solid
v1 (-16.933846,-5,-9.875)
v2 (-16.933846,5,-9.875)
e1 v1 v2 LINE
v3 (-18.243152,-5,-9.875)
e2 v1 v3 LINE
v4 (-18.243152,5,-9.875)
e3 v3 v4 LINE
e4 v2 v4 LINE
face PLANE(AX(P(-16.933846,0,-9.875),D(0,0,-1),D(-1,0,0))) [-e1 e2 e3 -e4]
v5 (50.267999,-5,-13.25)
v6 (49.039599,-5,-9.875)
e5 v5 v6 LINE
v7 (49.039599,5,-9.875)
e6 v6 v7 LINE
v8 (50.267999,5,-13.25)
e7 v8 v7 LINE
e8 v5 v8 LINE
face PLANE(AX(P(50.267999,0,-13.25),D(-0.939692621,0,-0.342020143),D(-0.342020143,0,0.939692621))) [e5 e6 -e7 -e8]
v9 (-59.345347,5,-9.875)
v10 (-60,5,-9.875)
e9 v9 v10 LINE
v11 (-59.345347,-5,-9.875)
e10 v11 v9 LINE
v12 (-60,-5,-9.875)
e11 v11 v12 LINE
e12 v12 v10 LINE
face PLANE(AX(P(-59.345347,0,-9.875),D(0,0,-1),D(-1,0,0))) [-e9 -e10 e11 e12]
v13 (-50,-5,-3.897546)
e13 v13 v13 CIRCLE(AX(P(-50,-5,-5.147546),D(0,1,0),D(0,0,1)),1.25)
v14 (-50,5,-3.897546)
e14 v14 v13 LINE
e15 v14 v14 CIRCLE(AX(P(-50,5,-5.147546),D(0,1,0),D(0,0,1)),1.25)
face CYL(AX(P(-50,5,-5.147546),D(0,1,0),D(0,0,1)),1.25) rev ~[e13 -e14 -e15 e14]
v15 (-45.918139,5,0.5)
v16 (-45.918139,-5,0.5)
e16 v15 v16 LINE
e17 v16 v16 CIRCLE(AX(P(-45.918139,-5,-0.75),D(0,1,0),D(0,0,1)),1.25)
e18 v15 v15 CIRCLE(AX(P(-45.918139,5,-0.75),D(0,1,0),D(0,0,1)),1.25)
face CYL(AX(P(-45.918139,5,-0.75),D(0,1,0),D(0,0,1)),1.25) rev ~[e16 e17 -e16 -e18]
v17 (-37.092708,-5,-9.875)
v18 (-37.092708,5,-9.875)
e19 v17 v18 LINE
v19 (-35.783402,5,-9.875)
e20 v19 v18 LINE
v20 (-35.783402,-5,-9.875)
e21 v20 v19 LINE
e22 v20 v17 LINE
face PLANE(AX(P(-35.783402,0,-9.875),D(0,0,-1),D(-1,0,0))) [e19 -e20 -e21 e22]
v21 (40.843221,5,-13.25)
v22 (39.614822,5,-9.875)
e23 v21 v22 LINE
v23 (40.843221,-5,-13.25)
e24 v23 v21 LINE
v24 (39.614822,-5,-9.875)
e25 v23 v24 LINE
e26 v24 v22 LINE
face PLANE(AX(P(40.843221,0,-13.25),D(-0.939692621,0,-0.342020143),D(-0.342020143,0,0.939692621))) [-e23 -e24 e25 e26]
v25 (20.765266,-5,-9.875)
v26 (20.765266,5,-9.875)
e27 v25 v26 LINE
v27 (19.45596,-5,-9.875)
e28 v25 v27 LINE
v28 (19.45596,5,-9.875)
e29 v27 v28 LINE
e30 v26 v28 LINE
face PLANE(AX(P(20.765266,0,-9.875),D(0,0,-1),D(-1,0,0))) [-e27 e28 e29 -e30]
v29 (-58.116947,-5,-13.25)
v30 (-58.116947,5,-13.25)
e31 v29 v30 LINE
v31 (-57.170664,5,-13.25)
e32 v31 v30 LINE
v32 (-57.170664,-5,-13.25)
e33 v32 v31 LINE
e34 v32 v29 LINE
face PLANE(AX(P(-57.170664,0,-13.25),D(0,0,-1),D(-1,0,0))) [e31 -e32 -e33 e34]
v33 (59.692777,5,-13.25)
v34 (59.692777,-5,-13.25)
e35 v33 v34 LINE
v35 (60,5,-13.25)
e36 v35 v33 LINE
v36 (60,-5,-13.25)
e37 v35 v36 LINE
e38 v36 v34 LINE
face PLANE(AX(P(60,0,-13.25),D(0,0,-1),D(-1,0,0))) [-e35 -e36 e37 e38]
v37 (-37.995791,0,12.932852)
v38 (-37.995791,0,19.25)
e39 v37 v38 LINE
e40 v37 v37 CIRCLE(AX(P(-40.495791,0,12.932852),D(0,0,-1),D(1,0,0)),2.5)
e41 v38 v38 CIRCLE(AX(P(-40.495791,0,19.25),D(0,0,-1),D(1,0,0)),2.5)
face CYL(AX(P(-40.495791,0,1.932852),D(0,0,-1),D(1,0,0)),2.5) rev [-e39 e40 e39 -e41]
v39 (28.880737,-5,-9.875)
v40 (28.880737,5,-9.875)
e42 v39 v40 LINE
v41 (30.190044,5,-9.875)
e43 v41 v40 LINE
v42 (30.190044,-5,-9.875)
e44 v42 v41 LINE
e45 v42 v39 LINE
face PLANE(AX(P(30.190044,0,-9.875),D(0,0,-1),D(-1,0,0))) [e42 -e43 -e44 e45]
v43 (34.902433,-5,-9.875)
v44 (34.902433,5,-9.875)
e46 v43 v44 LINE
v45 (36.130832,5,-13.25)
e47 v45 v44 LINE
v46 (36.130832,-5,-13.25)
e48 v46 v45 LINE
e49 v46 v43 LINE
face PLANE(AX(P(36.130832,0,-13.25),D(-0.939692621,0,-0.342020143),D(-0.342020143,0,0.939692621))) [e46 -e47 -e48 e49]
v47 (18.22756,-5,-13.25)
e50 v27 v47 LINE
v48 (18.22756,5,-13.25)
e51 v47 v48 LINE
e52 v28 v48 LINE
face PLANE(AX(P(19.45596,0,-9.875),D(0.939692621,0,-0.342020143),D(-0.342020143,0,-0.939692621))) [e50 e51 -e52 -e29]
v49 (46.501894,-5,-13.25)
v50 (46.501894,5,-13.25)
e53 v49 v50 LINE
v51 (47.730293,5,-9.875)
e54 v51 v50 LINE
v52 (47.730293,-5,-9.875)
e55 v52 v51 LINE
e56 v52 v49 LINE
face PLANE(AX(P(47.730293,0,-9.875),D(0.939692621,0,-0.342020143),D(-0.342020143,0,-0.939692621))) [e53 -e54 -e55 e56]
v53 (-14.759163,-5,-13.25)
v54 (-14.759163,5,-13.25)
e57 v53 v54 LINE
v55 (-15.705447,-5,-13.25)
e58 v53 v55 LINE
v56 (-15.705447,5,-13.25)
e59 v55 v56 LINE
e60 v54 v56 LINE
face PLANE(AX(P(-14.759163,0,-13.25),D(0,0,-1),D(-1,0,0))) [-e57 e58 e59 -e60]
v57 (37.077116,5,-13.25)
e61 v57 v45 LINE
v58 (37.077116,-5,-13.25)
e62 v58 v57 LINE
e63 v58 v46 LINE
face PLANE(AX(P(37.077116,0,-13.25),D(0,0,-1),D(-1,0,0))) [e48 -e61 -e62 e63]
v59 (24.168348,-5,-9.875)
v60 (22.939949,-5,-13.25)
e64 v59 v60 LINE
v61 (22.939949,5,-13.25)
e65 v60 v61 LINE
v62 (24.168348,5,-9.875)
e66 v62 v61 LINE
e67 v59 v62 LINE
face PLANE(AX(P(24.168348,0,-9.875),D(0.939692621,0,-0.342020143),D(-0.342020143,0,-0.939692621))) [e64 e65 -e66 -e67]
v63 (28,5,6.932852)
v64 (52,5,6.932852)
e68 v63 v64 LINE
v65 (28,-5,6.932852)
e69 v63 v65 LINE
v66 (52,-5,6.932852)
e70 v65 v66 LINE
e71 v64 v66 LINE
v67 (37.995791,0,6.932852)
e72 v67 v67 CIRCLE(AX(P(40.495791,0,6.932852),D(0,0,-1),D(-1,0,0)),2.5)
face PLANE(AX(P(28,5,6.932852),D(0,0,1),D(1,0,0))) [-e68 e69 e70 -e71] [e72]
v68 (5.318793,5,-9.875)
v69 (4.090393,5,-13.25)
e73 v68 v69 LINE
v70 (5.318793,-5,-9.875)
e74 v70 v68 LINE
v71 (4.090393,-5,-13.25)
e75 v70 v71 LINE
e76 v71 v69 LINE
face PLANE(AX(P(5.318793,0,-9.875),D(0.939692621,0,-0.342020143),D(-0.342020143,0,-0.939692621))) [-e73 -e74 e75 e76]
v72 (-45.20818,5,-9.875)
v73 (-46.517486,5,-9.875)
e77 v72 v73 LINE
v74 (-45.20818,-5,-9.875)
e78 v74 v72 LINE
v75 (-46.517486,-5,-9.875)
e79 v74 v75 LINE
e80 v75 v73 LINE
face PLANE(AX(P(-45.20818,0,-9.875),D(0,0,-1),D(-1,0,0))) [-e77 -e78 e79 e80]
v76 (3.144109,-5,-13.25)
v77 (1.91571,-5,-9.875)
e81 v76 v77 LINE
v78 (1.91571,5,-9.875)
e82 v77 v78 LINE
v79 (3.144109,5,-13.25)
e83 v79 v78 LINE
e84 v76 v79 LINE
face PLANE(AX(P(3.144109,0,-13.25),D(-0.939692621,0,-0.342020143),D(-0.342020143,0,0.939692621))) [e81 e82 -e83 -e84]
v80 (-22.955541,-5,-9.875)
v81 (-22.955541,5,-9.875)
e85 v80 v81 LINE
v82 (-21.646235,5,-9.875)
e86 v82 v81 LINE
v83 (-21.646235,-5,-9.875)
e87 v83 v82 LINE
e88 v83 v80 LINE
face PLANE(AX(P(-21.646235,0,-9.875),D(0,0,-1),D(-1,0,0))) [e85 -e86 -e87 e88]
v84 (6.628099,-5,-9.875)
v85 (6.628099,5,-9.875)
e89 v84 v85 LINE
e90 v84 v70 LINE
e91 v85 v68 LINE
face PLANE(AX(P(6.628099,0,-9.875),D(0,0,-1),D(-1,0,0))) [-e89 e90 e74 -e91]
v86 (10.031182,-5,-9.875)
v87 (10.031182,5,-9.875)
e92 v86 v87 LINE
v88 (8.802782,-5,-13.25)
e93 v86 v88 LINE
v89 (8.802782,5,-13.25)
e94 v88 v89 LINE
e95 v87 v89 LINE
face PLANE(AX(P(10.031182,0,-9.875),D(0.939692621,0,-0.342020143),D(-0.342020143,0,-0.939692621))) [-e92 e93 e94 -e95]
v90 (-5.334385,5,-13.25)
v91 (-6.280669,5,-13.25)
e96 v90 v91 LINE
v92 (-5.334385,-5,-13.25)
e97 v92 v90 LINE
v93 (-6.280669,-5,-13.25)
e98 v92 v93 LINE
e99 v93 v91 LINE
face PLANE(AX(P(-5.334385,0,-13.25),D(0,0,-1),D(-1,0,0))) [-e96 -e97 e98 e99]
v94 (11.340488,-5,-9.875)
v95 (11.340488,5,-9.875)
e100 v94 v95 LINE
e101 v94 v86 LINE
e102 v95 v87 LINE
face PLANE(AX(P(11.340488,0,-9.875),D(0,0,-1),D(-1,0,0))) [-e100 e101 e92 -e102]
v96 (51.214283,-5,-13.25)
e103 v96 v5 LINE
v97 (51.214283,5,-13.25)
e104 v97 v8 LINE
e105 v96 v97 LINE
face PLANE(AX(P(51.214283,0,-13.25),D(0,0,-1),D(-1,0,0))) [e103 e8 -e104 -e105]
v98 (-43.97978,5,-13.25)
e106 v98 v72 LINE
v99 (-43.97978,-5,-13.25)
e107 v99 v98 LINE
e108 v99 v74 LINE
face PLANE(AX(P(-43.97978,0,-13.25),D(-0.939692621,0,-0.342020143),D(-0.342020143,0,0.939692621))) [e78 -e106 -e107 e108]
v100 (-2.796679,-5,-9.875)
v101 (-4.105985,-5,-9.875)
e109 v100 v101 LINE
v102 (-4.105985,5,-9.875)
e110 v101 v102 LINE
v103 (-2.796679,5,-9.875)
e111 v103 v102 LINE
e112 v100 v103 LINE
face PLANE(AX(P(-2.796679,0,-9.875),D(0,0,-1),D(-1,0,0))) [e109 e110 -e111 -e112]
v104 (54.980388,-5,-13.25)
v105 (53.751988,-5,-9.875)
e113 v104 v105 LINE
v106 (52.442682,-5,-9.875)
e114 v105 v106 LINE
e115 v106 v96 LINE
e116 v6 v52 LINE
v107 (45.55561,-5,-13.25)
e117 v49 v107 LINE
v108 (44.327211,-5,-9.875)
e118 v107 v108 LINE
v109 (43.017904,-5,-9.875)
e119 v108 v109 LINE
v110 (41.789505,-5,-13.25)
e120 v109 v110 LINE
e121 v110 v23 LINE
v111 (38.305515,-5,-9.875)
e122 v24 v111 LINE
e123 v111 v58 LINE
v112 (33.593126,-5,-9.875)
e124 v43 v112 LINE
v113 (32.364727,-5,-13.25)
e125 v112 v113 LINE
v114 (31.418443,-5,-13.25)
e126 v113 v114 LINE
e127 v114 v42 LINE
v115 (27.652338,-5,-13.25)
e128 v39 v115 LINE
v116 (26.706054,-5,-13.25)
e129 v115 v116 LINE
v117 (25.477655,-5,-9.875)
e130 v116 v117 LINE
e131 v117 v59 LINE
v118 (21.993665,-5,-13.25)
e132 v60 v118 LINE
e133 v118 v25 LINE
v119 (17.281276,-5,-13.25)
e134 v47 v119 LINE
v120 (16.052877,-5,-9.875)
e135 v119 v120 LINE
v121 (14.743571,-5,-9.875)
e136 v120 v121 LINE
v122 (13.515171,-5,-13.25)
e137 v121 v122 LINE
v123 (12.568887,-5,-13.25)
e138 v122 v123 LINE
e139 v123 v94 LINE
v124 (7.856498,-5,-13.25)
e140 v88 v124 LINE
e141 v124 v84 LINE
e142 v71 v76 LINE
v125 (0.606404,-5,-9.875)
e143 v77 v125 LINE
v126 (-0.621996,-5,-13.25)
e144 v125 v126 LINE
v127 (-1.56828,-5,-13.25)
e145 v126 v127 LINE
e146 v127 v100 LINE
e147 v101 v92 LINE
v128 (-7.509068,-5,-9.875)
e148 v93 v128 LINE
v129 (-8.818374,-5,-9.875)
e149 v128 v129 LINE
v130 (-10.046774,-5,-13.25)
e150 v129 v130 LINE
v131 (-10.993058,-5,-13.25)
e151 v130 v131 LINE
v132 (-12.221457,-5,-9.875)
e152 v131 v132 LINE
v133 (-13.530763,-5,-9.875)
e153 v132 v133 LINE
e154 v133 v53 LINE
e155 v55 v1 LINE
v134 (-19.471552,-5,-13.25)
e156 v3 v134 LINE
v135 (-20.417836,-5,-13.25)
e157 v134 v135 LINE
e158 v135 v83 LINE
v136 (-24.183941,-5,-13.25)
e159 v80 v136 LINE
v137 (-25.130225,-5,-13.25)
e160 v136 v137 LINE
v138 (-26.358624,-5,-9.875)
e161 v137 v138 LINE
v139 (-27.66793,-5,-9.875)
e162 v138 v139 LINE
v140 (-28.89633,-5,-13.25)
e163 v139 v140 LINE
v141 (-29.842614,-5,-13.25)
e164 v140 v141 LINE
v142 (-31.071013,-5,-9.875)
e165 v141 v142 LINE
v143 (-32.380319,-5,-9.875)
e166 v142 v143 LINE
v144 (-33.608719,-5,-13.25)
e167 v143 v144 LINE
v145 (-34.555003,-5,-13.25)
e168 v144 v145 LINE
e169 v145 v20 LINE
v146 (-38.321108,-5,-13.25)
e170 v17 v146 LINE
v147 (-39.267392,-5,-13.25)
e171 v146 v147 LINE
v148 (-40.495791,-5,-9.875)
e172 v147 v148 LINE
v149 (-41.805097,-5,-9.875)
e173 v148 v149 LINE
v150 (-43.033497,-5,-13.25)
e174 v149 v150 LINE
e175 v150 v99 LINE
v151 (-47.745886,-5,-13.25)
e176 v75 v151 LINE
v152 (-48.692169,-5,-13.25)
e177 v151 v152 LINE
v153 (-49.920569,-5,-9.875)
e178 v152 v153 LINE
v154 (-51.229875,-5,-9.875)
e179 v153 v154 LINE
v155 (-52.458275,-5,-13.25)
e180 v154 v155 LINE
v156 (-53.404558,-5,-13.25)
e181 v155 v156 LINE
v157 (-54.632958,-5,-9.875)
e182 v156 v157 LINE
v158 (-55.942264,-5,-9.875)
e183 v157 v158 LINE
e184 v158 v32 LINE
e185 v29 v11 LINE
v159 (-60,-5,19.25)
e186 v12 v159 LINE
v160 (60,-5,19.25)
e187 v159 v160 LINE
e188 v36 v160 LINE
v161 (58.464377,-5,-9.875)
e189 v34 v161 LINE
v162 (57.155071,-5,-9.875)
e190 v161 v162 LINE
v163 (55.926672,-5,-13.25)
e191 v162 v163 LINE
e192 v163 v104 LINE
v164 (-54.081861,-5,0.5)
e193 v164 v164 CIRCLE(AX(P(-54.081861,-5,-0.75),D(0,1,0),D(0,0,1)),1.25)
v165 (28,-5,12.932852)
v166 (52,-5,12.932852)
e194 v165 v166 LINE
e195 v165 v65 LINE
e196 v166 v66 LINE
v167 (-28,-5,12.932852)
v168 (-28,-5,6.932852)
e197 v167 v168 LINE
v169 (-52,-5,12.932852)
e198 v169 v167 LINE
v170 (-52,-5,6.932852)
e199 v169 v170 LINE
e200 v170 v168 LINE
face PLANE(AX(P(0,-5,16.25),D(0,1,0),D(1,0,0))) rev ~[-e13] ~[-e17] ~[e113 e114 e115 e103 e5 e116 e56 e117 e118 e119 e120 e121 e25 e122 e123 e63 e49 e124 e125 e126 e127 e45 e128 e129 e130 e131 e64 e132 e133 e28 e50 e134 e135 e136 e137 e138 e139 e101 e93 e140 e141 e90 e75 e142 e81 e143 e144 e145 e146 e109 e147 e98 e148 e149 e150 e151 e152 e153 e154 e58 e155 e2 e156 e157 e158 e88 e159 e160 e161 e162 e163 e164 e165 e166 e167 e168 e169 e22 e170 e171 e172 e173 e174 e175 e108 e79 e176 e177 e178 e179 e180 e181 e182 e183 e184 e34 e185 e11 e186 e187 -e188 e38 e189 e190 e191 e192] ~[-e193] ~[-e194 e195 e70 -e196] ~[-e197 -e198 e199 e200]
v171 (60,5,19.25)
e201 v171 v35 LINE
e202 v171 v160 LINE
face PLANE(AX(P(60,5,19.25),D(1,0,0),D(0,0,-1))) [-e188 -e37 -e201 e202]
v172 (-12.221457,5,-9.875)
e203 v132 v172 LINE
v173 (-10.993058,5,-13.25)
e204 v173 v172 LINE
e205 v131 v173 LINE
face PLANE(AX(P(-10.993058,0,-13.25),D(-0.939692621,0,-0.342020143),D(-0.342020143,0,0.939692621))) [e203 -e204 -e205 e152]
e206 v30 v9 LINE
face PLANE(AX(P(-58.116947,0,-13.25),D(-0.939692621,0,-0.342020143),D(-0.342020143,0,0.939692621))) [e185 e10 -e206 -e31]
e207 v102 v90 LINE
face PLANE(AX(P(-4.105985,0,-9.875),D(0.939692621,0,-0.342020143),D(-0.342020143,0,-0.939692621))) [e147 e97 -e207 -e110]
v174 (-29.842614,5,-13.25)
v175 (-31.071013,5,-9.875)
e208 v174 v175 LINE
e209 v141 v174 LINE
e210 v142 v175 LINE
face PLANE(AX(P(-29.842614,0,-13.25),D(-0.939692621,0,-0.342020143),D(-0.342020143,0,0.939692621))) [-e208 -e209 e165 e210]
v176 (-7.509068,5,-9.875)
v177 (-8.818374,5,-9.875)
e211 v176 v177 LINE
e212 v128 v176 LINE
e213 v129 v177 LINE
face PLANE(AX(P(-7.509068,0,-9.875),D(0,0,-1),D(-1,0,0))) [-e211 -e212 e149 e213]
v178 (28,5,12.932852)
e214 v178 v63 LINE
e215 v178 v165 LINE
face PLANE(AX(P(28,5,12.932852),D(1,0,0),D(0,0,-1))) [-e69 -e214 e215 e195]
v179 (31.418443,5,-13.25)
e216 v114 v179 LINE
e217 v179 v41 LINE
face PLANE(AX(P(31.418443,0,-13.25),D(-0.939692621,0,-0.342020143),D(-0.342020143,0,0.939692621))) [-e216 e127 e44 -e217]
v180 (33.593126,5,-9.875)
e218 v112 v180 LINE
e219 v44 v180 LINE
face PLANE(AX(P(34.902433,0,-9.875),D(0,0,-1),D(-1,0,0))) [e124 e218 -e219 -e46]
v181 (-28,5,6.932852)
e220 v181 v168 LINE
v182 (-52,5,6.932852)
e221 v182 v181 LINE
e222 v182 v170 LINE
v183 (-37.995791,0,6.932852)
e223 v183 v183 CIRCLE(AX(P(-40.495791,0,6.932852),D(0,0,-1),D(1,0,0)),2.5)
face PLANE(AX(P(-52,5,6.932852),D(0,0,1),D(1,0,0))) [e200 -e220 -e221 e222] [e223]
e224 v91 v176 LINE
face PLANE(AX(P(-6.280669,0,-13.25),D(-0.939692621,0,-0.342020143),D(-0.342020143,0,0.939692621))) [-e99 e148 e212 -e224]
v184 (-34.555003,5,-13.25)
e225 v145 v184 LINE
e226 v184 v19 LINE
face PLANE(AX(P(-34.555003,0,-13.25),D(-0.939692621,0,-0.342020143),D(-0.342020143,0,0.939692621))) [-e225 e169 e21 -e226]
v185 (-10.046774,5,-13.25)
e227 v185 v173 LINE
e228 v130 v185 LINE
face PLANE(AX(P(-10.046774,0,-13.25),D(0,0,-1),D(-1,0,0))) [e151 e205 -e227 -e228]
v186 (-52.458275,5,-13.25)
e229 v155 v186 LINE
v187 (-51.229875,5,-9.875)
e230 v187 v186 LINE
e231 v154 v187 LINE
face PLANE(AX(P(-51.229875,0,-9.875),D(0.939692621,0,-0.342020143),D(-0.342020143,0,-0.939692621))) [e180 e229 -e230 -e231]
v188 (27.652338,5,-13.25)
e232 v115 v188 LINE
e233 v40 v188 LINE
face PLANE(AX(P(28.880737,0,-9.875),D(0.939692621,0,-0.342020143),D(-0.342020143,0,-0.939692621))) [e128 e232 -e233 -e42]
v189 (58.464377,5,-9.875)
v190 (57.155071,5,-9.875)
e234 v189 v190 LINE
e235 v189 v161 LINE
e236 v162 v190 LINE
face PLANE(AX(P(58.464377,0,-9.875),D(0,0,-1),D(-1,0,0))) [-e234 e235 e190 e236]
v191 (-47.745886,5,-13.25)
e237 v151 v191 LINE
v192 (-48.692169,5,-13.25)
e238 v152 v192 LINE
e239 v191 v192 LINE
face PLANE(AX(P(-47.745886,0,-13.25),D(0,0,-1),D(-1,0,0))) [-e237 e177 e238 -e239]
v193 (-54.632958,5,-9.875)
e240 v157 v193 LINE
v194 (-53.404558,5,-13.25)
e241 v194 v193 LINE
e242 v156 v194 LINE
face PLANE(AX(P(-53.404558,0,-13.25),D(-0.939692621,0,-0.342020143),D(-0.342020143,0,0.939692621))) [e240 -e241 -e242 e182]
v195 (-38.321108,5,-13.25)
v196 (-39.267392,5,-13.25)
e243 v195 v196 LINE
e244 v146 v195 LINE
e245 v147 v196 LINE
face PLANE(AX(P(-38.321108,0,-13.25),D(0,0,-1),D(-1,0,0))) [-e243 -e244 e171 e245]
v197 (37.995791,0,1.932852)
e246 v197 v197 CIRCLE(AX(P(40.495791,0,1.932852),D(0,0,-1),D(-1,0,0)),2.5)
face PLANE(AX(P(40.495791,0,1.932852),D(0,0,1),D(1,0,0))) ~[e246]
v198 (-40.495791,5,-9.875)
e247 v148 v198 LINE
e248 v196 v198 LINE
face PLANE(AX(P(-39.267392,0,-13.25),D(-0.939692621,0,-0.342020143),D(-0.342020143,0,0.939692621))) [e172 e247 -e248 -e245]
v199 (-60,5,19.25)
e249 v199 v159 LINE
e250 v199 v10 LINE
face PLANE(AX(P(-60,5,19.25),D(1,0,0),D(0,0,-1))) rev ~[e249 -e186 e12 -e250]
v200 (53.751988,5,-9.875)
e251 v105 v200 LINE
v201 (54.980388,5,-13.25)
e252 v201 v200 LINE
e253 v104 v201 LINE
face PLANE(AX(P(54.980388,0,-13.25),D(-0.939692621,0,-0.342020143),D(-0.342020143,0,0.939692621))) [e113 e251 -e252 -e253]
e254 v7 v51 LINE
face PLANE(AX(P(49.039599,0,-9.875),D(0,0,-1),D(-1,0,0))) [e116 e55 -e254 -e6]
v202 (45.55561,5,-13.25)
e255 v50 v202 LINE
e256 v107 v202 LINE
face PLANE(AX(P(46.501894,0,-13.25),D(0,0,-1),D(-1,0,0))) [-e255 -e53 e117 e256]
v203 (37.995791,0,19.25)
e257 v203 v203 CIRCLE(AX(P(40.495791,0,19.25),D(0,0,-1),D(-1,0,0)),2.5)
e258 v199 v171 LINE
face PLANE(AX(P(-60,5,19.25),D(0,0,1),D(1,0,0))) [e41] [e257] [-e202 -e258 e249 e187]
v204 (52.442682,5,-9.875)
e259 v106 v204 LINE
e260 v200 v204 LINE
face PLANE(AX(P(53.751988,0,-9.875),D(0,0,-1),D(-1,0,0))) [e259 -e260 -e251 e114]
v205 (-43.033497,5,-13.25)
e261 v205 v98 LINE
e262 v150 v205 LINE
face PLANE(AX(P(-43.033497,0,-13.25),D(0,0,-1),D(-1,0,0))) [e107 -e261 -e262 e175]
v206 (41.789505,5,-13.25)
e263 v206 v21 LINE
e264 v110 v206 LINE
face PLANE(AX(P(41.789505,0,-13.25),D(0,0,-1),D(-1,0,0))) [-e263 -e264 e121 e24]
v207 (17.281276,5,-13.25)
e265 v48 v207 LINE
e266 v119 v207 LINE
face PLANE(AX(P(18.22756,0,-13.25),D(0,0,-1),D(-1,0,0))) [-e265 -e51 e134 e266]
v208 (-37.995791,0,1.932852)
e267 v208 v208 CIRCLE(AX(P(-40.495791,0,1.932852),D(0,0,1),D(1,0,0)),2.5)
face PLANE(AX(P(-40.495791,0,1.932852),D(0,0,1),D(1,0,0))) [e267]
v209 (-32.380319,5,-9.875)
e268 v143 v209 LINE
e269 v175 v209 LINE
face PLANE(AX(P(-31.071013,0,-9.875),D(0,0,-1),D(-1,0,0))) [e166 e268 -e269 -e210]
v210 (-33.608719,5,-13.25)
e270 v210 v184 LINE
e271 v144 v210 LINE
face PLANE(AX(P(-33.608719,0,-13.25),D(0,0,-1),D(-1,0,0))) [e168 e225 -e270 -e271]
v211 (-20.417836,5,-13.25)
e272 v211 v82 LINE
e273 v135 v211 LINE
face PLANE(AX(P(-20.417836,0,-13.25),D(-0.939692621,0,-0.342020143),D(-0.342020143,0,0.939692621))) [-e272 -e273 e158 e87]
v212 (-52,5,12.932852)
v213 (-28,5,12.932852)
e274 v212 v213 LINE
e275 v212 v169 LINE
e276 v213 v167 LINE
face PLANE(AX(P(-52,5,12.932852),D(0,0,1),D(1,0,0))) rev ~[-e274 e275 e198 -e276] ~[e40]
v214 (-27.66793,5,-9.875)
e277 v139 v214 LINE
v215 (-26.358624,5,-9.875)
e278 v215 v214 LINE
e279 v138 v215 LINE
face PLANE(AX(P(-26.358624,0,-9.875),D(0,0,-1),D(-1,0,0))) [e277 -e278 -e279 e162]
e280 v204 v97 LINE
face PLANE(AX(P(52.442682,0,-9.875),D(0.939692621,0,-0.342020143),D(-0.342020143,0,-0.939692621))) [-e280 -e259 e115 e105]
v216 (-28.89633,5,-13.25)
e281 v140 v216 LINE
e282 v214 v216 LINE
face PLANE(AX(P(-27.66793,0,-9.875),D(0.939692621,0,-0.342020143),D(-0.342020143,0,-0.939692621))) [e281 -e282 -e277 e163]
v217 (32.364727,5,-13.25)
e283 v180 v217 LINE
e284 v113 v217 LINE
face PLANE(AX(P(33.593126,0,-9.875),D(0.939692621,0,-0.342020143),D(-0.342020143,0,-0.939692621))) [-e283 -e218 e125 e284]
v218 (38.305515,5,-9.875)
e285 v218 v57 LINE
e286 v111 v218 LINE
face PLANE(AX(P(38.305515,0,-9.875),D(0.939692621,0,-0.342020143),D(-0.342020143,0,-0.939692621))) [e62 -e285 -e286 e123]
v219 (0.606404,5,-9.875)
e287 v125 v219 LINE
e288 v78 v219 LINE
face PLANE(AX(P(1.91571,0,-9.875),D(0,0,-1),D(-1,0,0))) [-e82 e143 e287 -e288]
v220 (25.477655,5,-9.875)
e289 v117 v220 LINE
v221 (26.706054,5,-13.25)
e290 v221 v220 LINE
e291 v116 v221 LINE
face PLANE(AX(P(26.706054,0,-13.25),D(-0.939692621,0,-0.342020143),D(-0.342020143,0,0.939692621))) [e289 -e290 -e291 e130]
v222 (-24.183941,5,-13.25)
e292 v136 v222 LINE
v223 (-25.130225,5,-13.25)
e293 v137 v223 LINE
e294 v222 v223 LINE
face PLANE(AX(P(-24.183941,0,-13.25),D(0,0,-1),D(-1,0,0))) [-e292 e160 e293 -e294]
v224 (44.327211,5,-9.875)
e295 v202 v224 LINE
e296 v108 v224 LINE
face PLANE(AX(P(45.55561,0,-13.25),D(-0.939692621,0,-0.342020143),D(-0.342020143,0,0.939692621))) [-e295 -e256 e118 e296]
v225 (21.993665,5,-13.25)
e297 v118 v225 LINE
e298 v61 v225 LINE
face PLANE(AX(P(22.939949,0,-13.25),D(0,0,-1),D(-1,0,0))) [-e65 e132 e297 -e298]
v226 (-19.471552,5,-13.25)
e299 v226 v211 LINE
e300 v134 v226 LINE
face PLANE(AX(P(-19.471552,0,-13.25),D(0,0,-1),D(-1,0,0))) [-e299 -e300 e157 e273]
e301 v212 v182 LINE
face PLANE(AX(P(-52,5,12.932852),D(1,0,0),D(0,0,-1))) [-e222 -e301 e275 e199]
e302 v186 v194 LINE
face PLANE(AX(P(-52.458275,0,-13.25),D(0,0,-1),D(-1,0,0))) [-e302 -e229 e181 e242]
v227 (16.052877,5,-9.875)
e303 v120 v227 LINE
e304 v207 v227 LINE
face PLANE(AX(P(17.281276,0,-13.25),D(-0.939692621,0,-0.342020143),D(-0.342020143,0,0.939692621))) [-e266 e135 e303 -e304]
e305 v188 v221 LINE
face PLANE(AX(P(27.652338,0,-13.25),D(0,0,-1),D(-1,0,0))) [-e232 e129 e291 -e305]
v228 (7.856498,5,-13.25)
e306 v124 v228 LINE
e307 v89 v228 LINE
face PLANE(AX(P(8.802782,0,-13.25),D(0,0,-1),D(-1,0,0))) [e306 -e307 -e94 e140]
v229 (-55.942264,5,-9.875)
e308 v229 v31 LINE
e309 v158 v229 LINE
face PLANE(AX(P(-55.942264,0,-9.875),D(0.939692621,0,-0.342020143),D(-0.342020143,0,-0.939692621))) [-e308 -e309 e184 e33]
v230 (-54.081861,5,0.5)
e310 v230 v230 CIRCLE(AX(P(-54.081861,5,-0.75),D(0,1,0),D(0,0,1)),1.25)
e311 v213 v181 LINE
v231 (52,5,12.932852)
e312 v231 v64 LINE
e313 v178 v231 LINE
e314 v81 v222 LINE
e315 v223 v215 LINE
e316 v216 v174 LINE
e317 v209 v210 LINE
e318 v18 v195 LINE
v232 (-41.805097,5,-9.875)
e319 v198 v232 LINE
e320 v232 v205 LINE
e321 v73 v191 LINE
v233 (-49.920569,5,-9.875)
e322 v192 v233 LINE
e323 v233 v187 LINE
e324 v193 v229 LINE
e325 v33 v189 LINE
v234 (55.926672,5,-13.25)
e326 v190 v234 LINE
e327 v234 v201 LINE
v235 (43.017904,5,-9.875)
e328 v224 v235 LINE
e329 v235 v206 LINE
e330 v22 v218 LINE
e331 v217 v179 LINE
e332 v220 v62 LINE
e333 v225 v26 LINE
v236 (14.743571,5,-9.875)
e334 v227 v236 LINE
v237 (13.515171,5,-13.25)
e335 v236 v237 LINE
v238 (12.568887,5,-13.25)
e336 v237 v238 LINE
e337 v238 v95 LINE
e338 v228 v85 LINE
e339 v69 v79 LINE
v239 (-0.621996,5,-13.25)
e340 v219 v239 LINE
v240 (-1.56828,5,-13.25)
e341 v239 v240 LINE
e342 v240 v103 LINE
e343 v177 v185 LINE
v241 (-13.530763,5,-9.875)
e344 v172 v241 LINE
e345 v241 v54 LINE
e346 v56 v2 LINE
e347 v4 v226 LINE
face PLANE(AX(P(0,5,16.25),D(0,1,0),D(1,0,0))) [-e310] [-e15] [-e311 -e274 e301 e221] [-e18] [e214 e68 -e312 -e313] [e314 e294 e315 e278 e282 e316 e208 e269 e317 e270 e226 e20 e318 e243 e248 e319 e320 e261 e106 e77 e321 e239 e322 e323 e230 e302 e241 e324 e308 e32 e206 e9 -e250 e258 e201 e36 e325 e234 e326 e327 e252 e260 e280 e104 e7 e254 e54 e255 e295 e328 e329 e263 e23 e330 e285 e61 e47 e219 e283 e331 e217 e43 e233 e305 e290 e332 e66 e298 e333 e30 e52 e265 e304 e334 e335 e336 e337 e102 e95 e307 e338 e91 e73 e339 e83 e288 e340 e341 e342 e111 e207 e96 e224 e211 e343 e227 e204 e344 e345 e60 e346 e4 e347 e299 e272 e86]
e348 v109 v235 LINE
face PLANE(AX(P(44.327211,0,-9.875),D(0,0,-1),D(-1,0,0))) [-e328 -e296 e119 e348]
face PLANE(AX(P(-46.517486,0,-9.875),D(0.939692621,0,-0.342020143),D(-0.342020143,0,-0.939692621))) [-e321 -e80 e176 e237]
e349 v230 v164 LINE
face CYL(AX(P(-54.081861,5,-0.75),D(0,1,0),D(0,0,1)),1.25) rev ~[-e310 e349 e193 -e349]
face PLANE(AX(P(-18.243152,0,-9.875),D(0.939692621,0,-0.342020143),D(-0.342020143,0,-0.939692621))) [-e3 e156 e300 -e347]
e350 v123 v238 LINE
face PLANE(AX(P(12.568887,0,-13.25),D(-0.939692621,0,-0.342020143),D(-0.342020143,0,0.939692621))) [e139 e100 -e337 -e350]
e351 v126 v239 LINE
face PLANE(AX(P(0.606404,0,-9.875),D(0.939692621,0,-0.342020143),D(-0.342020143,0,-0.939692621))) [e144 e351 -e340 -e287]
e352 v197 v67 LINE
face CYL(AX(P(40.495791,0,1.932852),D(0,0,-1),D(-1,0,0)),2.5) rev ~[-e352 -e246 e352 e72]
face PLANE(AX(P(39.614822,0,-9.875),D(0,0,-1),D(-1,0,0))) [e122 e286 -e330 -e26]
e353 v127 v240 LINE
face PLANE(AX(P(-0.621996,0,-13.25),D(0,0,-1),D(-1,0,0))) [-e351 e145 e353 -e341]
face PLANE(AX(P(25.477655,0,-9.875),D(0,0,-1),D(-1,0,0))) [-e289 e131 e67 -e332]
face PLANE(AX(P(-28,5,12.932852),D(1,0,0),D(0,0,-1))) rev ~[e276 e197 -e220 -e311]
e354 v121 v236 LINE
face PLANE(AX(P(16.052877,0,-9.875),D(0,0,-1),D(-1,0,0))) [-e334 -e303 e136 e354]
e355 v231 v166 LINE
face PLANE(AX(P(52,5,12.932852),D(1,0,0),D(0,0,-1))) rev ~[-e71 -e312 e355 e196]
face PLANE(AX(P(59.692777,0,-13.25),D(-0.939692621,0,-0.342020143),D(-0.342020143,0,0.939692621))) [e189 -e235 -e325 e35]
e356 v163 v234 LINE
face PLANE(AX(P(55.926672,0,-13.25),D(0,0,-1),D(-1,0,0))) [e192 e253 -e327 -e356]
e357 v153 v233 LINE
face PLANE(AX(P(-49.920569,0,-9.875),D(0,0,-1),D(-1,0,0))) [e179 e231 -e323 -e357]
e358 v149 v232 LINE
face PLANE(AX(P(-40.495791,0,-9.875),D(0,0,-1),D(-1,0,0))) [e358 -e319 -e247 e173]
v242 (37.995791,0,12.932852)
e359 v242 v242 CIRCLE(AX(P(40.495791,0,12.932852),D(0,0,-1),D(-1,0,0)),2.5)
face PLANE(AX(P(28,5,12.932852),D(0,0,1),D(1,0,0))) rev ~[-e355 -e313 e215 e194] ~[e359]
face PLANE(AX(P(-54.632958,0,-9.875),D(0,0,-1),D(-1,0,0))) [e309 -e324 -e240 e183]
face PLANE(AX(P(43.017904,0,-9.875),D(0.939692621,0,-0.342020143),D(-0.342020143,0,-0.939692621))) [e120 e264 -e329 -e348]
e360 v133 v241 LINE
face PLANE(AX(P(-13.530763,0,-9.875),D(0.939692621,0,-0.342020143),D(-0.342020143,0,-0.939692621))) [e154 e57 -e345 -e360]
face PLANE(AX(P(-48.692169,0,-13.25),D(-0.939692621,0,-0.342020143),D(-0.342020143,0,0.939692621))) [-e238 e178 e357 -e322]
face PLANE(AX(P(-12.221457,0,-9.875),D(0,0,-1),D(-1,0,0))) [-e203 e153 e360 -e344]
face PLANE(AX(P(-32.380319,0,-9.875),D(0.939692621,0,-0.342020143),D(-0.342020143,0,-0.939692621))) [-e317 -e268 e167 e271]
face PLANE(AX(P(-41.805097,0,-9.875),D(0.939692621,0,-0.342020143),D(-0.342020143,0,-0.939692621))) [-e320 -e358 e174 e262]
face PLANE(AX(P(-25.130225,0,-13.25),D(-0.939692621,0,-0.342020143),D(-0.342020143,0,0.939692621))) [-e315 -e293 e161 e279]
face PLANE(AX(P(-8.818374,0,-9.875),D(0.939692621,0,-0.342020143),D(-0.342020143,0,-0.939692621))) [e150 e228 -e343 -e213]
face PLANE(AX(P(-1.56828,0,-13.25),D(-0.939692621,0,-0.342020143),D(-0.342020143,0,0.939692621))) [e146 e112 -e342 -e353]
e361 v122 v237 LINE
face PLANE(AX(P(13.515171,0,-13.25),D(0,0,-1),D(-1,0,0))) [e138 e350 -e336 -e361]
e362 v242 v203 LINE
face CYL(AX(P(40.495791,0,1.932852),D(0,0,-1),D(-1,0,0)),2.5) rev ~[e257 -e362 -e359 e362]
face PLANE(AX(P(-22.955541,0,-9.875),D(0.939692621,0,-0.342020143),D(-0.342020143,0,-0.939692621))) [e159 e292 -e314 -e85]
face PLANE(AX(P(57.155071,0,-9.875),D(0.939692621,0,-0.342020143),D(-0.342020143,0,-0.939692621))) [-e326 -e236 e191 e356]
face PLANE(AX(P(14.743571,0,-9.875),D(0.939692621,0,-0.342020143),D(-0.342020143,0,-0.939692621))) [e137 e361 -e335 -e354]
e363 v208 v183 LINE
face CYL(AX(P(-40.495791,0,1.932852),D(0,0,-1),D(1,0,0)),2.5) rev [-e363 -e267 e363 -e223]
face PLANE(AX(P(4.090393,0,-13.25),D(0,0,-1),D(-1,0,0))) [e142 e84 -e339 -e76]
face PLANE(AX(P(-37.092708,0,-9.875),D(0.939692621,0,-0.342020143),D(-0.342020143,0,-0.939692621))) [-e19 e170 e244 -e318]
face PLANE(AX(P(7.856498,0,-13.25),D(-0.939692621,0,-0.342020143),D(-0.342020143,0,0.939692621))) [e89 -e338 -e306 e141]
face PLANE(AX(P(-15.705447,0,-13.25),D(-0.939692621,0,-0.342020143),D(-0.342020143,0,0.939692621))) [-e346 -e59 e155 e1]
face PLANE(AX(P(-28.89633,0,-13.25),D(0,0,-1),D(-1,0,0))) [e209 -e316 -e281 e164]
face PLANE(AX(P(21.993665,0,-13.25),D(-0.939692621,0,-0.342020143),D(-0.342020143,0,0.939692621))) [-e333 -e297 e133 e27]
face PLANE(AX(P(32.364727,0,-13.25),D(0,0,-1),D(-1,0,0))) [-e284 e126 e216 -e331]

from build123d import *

# Parameters (mm, degrees)
BOSS_EXTRUDE1_DEPTH = 5
SKETCH3_W           = 120
SKETCH3_H           = 6
BOSS_EXTRUDE2_DEPTH = 10
SKETCH5_W           = 24
SKETCH5_H           = 6
CUT_EXTRUDE1_DEPTH  = 10
CUT_EXTRUDE2_START  = -5
SKETCH7_R           = 2.5
CUT_EXTRUDE2_DEPTH  = 25
SKETCH8_R           = 1.25
CUT_EXTRUDE3_DEPTH  = 20
SKETCH9_R           = 1.25
CUT_EXTRUDE4_DEPTH  = 10


with BuildPart() as part:
    # Sketch1 → Boss-Extrude1 (new, symmetric)
    with BuildSketch(Plane(origin=(0, 0, 0), x_dir=(1, 0, 0), z_dir=(0, 1, 0))):
        Polygon((58.46437743, 9.875), (57.15507132, 9.875), (55.92667178, 13.25), (54.980387995, 13.25), (53.751988455, 9.875), (52.442682345, 9.875), (51.214282805, 13.25), (50.26799902, 13.25), (49.03959948, 9.875), (47.73029337, 9.875), (46.50189383, 13.25), (45.555610045, 13.25), (44.327210505, 9.875), (43.017904395, 9.875), (41.789504855, 13.25), (40.84322107, 13.25), (39.61482153, 9.875), (38.30551542, 9.875), (37.07711588, 13.25), (36.130832095, 13.25), (34.902432555, 9.875), (33.593126445, 9.875), (32.364726905, 13.25), (31.41844312, 13.25), (30.19004358, 9.875), (28.88073747, 9.875), (27.65233793, 13.25), (26.706054145, 13.25), (25.477654605, 9.875), (24.168348495, 9.875), (22.939948955, 13.25), (21.99366517, 13.25), (20.76526563, 9.875), (19.45595952, 9.875), (18.22755998, 13.25), (17.281276195, 13.25), (16.052876655, 9.875), (14.743570545, 9.875), (13.515171005, 13.25), (12.56888722, 13.25), (11.34048768, 9.875), (10.03118157, 9.875), (8.80278203, 13.25), (7.856498245, 13.25), (6.628098705, 9.875), (5.318792595, 9.875), (4.090393055, 13.25), (3.14410927, 13.25), (1.91570973, 9.875), (0.60640362, 9.875), (-0.62199592, 13.25), (-1.568279705, 13.25), (-2.796679245, 9.875), (-4.105985355, 9.875), (-5.334384895, 13.25), (-6.28066868, 13.25), (-7.50906822, 9.875), (-8.81837433, 9.875), (-10.04677387, 13.25), (-10.993057655, 13.25), (-12.221457195, 9.875), (-13.530763305, 9.875), (-14.759162845, 13.25), (-15.70544663, 13.25), (-16.93384617, 9.875), (-18.24315228, 9.875), (-19.47155182, 13.25), (-20.417835605, 13.25), (-21.646235145, 9.875), (-22.955541255, 9.875), (-24.183940795, 13.25), (-25.13022458, 13.25), (-26.35862412, 9.875), (-27.66793023, 9.875), (-28.89632977, 13.25), (-29.842613555, 13.25), (-31.071013095, 9.875), (-32.380319205, 9.875), (-33.608718745, 13.25), (-34.55500253, 13.25), (-35.78340207, 9.875), (-37.09270818, 9.875), (-38.32110772, 13.25), (-39.267391505, 13.25), (-40.495791045, 9.875), (-41.805097155, 9.875), (-43.033496695, 13.25), (-43.97978048, 13.25), (-45.20818002, 9.875), (-46.51748613, 9.875), (-47.74588567, 13.25), (-48.692169455, 13.25), (-49.920568995, 9.875), (-51.229875105, 9.875), (-52.458274645, 13.25), (-53.40455843, 13.25), (-54.63295797, 9.875), (-55.94226408, 9.875), (-57.17066362, 13.25), (-58.116947405, 13.25), (-59.345346945, 9.875), (-60, 9.875), (-60, -13.25), (60, -13.25), (60, 13.25), (59.69277697, 13.25), align=None)
    extrude(amount=BOSS_EXTRUDE1_DEPTH, both=True)

    # Sketch3 → Boss-Extrude2 (add)
    with BuildSketch(Plane(origin=(0, 5, 0), x_dir=(1, 0, 0), z_dir=(0, 1, 0))):
        with Locations((0, -16.25)):
            Rectangle(SKETCH3_W, SKETCH3_H)
    extrude(amount=-BOSS_EXTRUDE2_DEPTH)

    # Sketch5 → Cut-Extrude1 (cut)
    with BuildSketch(Plane(origin=(0, 5, 0), x_dir=(1, 0, 0), z_dir=(0, 1, 0))):
        with Locations((-40, -9.932851702)):
            Rectangle(SKETCH5_W, SKETCH5_H)
        with Locations((40, -9.932851702)):
            Rectangle(SKETCH5_W, SKETCH5_H)
    extrude(amount=-CUT_EXTRUDE1_DEPTH, mode=Mode.SUBTRACT)

    # Sketch7 → Cut-Extrude2 (cut)
    with BuildSketch(Plane.XY.offset(6.932851702).offset(CUT_EXTRUDE2_START)):
        with Locations((-40.495791045, 0)):
            Circle(SKETCH7_R)
    cut_extrude2 = extrude(amount=CUT_EXTRUDE2_DEPTH, mode=Mode.SUBTRACT)

    # Mirror1: Cut-Extrude2 across plane
    add(cut_extrude2.mirror(Plane(origin=(0, 0, 0), x_dir=(0, 0, 1), z_dir=(1, 0, 0))), mode=Mode.SUBTRACT)

    # Sketch8 → Cut-Extrude3 (cut)
    with BuildSketch(Plane(origin=(0, 5, 0), x_dir=(1, 0, 0), z_dir=(0, 1, 0))):
        with Locations(Location((-54.081860638, 0.75, 0), (0, 0, 270))):
            Circle(SKETCH8_R)
        with Locations(Location((-45.918139363, 0.75, 0), (0, 0, 270))):
            Circle(SKETCH8_R)
    extrude(amount=-CUT_EXTRUDE3_DEPTH, mode=Mode.SUBTRACT)

    # Sketch9 → Cut-Extrude4 (cut)
    with BuildSketch(Plane(origin=(0, 5, 0), x_dir=(1, 0, 0), z_dir=(0, 1, 0))):
        with Locations(Location((-50, 5.147546331, 0), (0, 0, 270))):
            Circle(SKETCH9_R)
    extrude(amount=-CUT_EXTRUDE4_DEPTH, mode=Mode.SUBTRACT)


solid = part.part
